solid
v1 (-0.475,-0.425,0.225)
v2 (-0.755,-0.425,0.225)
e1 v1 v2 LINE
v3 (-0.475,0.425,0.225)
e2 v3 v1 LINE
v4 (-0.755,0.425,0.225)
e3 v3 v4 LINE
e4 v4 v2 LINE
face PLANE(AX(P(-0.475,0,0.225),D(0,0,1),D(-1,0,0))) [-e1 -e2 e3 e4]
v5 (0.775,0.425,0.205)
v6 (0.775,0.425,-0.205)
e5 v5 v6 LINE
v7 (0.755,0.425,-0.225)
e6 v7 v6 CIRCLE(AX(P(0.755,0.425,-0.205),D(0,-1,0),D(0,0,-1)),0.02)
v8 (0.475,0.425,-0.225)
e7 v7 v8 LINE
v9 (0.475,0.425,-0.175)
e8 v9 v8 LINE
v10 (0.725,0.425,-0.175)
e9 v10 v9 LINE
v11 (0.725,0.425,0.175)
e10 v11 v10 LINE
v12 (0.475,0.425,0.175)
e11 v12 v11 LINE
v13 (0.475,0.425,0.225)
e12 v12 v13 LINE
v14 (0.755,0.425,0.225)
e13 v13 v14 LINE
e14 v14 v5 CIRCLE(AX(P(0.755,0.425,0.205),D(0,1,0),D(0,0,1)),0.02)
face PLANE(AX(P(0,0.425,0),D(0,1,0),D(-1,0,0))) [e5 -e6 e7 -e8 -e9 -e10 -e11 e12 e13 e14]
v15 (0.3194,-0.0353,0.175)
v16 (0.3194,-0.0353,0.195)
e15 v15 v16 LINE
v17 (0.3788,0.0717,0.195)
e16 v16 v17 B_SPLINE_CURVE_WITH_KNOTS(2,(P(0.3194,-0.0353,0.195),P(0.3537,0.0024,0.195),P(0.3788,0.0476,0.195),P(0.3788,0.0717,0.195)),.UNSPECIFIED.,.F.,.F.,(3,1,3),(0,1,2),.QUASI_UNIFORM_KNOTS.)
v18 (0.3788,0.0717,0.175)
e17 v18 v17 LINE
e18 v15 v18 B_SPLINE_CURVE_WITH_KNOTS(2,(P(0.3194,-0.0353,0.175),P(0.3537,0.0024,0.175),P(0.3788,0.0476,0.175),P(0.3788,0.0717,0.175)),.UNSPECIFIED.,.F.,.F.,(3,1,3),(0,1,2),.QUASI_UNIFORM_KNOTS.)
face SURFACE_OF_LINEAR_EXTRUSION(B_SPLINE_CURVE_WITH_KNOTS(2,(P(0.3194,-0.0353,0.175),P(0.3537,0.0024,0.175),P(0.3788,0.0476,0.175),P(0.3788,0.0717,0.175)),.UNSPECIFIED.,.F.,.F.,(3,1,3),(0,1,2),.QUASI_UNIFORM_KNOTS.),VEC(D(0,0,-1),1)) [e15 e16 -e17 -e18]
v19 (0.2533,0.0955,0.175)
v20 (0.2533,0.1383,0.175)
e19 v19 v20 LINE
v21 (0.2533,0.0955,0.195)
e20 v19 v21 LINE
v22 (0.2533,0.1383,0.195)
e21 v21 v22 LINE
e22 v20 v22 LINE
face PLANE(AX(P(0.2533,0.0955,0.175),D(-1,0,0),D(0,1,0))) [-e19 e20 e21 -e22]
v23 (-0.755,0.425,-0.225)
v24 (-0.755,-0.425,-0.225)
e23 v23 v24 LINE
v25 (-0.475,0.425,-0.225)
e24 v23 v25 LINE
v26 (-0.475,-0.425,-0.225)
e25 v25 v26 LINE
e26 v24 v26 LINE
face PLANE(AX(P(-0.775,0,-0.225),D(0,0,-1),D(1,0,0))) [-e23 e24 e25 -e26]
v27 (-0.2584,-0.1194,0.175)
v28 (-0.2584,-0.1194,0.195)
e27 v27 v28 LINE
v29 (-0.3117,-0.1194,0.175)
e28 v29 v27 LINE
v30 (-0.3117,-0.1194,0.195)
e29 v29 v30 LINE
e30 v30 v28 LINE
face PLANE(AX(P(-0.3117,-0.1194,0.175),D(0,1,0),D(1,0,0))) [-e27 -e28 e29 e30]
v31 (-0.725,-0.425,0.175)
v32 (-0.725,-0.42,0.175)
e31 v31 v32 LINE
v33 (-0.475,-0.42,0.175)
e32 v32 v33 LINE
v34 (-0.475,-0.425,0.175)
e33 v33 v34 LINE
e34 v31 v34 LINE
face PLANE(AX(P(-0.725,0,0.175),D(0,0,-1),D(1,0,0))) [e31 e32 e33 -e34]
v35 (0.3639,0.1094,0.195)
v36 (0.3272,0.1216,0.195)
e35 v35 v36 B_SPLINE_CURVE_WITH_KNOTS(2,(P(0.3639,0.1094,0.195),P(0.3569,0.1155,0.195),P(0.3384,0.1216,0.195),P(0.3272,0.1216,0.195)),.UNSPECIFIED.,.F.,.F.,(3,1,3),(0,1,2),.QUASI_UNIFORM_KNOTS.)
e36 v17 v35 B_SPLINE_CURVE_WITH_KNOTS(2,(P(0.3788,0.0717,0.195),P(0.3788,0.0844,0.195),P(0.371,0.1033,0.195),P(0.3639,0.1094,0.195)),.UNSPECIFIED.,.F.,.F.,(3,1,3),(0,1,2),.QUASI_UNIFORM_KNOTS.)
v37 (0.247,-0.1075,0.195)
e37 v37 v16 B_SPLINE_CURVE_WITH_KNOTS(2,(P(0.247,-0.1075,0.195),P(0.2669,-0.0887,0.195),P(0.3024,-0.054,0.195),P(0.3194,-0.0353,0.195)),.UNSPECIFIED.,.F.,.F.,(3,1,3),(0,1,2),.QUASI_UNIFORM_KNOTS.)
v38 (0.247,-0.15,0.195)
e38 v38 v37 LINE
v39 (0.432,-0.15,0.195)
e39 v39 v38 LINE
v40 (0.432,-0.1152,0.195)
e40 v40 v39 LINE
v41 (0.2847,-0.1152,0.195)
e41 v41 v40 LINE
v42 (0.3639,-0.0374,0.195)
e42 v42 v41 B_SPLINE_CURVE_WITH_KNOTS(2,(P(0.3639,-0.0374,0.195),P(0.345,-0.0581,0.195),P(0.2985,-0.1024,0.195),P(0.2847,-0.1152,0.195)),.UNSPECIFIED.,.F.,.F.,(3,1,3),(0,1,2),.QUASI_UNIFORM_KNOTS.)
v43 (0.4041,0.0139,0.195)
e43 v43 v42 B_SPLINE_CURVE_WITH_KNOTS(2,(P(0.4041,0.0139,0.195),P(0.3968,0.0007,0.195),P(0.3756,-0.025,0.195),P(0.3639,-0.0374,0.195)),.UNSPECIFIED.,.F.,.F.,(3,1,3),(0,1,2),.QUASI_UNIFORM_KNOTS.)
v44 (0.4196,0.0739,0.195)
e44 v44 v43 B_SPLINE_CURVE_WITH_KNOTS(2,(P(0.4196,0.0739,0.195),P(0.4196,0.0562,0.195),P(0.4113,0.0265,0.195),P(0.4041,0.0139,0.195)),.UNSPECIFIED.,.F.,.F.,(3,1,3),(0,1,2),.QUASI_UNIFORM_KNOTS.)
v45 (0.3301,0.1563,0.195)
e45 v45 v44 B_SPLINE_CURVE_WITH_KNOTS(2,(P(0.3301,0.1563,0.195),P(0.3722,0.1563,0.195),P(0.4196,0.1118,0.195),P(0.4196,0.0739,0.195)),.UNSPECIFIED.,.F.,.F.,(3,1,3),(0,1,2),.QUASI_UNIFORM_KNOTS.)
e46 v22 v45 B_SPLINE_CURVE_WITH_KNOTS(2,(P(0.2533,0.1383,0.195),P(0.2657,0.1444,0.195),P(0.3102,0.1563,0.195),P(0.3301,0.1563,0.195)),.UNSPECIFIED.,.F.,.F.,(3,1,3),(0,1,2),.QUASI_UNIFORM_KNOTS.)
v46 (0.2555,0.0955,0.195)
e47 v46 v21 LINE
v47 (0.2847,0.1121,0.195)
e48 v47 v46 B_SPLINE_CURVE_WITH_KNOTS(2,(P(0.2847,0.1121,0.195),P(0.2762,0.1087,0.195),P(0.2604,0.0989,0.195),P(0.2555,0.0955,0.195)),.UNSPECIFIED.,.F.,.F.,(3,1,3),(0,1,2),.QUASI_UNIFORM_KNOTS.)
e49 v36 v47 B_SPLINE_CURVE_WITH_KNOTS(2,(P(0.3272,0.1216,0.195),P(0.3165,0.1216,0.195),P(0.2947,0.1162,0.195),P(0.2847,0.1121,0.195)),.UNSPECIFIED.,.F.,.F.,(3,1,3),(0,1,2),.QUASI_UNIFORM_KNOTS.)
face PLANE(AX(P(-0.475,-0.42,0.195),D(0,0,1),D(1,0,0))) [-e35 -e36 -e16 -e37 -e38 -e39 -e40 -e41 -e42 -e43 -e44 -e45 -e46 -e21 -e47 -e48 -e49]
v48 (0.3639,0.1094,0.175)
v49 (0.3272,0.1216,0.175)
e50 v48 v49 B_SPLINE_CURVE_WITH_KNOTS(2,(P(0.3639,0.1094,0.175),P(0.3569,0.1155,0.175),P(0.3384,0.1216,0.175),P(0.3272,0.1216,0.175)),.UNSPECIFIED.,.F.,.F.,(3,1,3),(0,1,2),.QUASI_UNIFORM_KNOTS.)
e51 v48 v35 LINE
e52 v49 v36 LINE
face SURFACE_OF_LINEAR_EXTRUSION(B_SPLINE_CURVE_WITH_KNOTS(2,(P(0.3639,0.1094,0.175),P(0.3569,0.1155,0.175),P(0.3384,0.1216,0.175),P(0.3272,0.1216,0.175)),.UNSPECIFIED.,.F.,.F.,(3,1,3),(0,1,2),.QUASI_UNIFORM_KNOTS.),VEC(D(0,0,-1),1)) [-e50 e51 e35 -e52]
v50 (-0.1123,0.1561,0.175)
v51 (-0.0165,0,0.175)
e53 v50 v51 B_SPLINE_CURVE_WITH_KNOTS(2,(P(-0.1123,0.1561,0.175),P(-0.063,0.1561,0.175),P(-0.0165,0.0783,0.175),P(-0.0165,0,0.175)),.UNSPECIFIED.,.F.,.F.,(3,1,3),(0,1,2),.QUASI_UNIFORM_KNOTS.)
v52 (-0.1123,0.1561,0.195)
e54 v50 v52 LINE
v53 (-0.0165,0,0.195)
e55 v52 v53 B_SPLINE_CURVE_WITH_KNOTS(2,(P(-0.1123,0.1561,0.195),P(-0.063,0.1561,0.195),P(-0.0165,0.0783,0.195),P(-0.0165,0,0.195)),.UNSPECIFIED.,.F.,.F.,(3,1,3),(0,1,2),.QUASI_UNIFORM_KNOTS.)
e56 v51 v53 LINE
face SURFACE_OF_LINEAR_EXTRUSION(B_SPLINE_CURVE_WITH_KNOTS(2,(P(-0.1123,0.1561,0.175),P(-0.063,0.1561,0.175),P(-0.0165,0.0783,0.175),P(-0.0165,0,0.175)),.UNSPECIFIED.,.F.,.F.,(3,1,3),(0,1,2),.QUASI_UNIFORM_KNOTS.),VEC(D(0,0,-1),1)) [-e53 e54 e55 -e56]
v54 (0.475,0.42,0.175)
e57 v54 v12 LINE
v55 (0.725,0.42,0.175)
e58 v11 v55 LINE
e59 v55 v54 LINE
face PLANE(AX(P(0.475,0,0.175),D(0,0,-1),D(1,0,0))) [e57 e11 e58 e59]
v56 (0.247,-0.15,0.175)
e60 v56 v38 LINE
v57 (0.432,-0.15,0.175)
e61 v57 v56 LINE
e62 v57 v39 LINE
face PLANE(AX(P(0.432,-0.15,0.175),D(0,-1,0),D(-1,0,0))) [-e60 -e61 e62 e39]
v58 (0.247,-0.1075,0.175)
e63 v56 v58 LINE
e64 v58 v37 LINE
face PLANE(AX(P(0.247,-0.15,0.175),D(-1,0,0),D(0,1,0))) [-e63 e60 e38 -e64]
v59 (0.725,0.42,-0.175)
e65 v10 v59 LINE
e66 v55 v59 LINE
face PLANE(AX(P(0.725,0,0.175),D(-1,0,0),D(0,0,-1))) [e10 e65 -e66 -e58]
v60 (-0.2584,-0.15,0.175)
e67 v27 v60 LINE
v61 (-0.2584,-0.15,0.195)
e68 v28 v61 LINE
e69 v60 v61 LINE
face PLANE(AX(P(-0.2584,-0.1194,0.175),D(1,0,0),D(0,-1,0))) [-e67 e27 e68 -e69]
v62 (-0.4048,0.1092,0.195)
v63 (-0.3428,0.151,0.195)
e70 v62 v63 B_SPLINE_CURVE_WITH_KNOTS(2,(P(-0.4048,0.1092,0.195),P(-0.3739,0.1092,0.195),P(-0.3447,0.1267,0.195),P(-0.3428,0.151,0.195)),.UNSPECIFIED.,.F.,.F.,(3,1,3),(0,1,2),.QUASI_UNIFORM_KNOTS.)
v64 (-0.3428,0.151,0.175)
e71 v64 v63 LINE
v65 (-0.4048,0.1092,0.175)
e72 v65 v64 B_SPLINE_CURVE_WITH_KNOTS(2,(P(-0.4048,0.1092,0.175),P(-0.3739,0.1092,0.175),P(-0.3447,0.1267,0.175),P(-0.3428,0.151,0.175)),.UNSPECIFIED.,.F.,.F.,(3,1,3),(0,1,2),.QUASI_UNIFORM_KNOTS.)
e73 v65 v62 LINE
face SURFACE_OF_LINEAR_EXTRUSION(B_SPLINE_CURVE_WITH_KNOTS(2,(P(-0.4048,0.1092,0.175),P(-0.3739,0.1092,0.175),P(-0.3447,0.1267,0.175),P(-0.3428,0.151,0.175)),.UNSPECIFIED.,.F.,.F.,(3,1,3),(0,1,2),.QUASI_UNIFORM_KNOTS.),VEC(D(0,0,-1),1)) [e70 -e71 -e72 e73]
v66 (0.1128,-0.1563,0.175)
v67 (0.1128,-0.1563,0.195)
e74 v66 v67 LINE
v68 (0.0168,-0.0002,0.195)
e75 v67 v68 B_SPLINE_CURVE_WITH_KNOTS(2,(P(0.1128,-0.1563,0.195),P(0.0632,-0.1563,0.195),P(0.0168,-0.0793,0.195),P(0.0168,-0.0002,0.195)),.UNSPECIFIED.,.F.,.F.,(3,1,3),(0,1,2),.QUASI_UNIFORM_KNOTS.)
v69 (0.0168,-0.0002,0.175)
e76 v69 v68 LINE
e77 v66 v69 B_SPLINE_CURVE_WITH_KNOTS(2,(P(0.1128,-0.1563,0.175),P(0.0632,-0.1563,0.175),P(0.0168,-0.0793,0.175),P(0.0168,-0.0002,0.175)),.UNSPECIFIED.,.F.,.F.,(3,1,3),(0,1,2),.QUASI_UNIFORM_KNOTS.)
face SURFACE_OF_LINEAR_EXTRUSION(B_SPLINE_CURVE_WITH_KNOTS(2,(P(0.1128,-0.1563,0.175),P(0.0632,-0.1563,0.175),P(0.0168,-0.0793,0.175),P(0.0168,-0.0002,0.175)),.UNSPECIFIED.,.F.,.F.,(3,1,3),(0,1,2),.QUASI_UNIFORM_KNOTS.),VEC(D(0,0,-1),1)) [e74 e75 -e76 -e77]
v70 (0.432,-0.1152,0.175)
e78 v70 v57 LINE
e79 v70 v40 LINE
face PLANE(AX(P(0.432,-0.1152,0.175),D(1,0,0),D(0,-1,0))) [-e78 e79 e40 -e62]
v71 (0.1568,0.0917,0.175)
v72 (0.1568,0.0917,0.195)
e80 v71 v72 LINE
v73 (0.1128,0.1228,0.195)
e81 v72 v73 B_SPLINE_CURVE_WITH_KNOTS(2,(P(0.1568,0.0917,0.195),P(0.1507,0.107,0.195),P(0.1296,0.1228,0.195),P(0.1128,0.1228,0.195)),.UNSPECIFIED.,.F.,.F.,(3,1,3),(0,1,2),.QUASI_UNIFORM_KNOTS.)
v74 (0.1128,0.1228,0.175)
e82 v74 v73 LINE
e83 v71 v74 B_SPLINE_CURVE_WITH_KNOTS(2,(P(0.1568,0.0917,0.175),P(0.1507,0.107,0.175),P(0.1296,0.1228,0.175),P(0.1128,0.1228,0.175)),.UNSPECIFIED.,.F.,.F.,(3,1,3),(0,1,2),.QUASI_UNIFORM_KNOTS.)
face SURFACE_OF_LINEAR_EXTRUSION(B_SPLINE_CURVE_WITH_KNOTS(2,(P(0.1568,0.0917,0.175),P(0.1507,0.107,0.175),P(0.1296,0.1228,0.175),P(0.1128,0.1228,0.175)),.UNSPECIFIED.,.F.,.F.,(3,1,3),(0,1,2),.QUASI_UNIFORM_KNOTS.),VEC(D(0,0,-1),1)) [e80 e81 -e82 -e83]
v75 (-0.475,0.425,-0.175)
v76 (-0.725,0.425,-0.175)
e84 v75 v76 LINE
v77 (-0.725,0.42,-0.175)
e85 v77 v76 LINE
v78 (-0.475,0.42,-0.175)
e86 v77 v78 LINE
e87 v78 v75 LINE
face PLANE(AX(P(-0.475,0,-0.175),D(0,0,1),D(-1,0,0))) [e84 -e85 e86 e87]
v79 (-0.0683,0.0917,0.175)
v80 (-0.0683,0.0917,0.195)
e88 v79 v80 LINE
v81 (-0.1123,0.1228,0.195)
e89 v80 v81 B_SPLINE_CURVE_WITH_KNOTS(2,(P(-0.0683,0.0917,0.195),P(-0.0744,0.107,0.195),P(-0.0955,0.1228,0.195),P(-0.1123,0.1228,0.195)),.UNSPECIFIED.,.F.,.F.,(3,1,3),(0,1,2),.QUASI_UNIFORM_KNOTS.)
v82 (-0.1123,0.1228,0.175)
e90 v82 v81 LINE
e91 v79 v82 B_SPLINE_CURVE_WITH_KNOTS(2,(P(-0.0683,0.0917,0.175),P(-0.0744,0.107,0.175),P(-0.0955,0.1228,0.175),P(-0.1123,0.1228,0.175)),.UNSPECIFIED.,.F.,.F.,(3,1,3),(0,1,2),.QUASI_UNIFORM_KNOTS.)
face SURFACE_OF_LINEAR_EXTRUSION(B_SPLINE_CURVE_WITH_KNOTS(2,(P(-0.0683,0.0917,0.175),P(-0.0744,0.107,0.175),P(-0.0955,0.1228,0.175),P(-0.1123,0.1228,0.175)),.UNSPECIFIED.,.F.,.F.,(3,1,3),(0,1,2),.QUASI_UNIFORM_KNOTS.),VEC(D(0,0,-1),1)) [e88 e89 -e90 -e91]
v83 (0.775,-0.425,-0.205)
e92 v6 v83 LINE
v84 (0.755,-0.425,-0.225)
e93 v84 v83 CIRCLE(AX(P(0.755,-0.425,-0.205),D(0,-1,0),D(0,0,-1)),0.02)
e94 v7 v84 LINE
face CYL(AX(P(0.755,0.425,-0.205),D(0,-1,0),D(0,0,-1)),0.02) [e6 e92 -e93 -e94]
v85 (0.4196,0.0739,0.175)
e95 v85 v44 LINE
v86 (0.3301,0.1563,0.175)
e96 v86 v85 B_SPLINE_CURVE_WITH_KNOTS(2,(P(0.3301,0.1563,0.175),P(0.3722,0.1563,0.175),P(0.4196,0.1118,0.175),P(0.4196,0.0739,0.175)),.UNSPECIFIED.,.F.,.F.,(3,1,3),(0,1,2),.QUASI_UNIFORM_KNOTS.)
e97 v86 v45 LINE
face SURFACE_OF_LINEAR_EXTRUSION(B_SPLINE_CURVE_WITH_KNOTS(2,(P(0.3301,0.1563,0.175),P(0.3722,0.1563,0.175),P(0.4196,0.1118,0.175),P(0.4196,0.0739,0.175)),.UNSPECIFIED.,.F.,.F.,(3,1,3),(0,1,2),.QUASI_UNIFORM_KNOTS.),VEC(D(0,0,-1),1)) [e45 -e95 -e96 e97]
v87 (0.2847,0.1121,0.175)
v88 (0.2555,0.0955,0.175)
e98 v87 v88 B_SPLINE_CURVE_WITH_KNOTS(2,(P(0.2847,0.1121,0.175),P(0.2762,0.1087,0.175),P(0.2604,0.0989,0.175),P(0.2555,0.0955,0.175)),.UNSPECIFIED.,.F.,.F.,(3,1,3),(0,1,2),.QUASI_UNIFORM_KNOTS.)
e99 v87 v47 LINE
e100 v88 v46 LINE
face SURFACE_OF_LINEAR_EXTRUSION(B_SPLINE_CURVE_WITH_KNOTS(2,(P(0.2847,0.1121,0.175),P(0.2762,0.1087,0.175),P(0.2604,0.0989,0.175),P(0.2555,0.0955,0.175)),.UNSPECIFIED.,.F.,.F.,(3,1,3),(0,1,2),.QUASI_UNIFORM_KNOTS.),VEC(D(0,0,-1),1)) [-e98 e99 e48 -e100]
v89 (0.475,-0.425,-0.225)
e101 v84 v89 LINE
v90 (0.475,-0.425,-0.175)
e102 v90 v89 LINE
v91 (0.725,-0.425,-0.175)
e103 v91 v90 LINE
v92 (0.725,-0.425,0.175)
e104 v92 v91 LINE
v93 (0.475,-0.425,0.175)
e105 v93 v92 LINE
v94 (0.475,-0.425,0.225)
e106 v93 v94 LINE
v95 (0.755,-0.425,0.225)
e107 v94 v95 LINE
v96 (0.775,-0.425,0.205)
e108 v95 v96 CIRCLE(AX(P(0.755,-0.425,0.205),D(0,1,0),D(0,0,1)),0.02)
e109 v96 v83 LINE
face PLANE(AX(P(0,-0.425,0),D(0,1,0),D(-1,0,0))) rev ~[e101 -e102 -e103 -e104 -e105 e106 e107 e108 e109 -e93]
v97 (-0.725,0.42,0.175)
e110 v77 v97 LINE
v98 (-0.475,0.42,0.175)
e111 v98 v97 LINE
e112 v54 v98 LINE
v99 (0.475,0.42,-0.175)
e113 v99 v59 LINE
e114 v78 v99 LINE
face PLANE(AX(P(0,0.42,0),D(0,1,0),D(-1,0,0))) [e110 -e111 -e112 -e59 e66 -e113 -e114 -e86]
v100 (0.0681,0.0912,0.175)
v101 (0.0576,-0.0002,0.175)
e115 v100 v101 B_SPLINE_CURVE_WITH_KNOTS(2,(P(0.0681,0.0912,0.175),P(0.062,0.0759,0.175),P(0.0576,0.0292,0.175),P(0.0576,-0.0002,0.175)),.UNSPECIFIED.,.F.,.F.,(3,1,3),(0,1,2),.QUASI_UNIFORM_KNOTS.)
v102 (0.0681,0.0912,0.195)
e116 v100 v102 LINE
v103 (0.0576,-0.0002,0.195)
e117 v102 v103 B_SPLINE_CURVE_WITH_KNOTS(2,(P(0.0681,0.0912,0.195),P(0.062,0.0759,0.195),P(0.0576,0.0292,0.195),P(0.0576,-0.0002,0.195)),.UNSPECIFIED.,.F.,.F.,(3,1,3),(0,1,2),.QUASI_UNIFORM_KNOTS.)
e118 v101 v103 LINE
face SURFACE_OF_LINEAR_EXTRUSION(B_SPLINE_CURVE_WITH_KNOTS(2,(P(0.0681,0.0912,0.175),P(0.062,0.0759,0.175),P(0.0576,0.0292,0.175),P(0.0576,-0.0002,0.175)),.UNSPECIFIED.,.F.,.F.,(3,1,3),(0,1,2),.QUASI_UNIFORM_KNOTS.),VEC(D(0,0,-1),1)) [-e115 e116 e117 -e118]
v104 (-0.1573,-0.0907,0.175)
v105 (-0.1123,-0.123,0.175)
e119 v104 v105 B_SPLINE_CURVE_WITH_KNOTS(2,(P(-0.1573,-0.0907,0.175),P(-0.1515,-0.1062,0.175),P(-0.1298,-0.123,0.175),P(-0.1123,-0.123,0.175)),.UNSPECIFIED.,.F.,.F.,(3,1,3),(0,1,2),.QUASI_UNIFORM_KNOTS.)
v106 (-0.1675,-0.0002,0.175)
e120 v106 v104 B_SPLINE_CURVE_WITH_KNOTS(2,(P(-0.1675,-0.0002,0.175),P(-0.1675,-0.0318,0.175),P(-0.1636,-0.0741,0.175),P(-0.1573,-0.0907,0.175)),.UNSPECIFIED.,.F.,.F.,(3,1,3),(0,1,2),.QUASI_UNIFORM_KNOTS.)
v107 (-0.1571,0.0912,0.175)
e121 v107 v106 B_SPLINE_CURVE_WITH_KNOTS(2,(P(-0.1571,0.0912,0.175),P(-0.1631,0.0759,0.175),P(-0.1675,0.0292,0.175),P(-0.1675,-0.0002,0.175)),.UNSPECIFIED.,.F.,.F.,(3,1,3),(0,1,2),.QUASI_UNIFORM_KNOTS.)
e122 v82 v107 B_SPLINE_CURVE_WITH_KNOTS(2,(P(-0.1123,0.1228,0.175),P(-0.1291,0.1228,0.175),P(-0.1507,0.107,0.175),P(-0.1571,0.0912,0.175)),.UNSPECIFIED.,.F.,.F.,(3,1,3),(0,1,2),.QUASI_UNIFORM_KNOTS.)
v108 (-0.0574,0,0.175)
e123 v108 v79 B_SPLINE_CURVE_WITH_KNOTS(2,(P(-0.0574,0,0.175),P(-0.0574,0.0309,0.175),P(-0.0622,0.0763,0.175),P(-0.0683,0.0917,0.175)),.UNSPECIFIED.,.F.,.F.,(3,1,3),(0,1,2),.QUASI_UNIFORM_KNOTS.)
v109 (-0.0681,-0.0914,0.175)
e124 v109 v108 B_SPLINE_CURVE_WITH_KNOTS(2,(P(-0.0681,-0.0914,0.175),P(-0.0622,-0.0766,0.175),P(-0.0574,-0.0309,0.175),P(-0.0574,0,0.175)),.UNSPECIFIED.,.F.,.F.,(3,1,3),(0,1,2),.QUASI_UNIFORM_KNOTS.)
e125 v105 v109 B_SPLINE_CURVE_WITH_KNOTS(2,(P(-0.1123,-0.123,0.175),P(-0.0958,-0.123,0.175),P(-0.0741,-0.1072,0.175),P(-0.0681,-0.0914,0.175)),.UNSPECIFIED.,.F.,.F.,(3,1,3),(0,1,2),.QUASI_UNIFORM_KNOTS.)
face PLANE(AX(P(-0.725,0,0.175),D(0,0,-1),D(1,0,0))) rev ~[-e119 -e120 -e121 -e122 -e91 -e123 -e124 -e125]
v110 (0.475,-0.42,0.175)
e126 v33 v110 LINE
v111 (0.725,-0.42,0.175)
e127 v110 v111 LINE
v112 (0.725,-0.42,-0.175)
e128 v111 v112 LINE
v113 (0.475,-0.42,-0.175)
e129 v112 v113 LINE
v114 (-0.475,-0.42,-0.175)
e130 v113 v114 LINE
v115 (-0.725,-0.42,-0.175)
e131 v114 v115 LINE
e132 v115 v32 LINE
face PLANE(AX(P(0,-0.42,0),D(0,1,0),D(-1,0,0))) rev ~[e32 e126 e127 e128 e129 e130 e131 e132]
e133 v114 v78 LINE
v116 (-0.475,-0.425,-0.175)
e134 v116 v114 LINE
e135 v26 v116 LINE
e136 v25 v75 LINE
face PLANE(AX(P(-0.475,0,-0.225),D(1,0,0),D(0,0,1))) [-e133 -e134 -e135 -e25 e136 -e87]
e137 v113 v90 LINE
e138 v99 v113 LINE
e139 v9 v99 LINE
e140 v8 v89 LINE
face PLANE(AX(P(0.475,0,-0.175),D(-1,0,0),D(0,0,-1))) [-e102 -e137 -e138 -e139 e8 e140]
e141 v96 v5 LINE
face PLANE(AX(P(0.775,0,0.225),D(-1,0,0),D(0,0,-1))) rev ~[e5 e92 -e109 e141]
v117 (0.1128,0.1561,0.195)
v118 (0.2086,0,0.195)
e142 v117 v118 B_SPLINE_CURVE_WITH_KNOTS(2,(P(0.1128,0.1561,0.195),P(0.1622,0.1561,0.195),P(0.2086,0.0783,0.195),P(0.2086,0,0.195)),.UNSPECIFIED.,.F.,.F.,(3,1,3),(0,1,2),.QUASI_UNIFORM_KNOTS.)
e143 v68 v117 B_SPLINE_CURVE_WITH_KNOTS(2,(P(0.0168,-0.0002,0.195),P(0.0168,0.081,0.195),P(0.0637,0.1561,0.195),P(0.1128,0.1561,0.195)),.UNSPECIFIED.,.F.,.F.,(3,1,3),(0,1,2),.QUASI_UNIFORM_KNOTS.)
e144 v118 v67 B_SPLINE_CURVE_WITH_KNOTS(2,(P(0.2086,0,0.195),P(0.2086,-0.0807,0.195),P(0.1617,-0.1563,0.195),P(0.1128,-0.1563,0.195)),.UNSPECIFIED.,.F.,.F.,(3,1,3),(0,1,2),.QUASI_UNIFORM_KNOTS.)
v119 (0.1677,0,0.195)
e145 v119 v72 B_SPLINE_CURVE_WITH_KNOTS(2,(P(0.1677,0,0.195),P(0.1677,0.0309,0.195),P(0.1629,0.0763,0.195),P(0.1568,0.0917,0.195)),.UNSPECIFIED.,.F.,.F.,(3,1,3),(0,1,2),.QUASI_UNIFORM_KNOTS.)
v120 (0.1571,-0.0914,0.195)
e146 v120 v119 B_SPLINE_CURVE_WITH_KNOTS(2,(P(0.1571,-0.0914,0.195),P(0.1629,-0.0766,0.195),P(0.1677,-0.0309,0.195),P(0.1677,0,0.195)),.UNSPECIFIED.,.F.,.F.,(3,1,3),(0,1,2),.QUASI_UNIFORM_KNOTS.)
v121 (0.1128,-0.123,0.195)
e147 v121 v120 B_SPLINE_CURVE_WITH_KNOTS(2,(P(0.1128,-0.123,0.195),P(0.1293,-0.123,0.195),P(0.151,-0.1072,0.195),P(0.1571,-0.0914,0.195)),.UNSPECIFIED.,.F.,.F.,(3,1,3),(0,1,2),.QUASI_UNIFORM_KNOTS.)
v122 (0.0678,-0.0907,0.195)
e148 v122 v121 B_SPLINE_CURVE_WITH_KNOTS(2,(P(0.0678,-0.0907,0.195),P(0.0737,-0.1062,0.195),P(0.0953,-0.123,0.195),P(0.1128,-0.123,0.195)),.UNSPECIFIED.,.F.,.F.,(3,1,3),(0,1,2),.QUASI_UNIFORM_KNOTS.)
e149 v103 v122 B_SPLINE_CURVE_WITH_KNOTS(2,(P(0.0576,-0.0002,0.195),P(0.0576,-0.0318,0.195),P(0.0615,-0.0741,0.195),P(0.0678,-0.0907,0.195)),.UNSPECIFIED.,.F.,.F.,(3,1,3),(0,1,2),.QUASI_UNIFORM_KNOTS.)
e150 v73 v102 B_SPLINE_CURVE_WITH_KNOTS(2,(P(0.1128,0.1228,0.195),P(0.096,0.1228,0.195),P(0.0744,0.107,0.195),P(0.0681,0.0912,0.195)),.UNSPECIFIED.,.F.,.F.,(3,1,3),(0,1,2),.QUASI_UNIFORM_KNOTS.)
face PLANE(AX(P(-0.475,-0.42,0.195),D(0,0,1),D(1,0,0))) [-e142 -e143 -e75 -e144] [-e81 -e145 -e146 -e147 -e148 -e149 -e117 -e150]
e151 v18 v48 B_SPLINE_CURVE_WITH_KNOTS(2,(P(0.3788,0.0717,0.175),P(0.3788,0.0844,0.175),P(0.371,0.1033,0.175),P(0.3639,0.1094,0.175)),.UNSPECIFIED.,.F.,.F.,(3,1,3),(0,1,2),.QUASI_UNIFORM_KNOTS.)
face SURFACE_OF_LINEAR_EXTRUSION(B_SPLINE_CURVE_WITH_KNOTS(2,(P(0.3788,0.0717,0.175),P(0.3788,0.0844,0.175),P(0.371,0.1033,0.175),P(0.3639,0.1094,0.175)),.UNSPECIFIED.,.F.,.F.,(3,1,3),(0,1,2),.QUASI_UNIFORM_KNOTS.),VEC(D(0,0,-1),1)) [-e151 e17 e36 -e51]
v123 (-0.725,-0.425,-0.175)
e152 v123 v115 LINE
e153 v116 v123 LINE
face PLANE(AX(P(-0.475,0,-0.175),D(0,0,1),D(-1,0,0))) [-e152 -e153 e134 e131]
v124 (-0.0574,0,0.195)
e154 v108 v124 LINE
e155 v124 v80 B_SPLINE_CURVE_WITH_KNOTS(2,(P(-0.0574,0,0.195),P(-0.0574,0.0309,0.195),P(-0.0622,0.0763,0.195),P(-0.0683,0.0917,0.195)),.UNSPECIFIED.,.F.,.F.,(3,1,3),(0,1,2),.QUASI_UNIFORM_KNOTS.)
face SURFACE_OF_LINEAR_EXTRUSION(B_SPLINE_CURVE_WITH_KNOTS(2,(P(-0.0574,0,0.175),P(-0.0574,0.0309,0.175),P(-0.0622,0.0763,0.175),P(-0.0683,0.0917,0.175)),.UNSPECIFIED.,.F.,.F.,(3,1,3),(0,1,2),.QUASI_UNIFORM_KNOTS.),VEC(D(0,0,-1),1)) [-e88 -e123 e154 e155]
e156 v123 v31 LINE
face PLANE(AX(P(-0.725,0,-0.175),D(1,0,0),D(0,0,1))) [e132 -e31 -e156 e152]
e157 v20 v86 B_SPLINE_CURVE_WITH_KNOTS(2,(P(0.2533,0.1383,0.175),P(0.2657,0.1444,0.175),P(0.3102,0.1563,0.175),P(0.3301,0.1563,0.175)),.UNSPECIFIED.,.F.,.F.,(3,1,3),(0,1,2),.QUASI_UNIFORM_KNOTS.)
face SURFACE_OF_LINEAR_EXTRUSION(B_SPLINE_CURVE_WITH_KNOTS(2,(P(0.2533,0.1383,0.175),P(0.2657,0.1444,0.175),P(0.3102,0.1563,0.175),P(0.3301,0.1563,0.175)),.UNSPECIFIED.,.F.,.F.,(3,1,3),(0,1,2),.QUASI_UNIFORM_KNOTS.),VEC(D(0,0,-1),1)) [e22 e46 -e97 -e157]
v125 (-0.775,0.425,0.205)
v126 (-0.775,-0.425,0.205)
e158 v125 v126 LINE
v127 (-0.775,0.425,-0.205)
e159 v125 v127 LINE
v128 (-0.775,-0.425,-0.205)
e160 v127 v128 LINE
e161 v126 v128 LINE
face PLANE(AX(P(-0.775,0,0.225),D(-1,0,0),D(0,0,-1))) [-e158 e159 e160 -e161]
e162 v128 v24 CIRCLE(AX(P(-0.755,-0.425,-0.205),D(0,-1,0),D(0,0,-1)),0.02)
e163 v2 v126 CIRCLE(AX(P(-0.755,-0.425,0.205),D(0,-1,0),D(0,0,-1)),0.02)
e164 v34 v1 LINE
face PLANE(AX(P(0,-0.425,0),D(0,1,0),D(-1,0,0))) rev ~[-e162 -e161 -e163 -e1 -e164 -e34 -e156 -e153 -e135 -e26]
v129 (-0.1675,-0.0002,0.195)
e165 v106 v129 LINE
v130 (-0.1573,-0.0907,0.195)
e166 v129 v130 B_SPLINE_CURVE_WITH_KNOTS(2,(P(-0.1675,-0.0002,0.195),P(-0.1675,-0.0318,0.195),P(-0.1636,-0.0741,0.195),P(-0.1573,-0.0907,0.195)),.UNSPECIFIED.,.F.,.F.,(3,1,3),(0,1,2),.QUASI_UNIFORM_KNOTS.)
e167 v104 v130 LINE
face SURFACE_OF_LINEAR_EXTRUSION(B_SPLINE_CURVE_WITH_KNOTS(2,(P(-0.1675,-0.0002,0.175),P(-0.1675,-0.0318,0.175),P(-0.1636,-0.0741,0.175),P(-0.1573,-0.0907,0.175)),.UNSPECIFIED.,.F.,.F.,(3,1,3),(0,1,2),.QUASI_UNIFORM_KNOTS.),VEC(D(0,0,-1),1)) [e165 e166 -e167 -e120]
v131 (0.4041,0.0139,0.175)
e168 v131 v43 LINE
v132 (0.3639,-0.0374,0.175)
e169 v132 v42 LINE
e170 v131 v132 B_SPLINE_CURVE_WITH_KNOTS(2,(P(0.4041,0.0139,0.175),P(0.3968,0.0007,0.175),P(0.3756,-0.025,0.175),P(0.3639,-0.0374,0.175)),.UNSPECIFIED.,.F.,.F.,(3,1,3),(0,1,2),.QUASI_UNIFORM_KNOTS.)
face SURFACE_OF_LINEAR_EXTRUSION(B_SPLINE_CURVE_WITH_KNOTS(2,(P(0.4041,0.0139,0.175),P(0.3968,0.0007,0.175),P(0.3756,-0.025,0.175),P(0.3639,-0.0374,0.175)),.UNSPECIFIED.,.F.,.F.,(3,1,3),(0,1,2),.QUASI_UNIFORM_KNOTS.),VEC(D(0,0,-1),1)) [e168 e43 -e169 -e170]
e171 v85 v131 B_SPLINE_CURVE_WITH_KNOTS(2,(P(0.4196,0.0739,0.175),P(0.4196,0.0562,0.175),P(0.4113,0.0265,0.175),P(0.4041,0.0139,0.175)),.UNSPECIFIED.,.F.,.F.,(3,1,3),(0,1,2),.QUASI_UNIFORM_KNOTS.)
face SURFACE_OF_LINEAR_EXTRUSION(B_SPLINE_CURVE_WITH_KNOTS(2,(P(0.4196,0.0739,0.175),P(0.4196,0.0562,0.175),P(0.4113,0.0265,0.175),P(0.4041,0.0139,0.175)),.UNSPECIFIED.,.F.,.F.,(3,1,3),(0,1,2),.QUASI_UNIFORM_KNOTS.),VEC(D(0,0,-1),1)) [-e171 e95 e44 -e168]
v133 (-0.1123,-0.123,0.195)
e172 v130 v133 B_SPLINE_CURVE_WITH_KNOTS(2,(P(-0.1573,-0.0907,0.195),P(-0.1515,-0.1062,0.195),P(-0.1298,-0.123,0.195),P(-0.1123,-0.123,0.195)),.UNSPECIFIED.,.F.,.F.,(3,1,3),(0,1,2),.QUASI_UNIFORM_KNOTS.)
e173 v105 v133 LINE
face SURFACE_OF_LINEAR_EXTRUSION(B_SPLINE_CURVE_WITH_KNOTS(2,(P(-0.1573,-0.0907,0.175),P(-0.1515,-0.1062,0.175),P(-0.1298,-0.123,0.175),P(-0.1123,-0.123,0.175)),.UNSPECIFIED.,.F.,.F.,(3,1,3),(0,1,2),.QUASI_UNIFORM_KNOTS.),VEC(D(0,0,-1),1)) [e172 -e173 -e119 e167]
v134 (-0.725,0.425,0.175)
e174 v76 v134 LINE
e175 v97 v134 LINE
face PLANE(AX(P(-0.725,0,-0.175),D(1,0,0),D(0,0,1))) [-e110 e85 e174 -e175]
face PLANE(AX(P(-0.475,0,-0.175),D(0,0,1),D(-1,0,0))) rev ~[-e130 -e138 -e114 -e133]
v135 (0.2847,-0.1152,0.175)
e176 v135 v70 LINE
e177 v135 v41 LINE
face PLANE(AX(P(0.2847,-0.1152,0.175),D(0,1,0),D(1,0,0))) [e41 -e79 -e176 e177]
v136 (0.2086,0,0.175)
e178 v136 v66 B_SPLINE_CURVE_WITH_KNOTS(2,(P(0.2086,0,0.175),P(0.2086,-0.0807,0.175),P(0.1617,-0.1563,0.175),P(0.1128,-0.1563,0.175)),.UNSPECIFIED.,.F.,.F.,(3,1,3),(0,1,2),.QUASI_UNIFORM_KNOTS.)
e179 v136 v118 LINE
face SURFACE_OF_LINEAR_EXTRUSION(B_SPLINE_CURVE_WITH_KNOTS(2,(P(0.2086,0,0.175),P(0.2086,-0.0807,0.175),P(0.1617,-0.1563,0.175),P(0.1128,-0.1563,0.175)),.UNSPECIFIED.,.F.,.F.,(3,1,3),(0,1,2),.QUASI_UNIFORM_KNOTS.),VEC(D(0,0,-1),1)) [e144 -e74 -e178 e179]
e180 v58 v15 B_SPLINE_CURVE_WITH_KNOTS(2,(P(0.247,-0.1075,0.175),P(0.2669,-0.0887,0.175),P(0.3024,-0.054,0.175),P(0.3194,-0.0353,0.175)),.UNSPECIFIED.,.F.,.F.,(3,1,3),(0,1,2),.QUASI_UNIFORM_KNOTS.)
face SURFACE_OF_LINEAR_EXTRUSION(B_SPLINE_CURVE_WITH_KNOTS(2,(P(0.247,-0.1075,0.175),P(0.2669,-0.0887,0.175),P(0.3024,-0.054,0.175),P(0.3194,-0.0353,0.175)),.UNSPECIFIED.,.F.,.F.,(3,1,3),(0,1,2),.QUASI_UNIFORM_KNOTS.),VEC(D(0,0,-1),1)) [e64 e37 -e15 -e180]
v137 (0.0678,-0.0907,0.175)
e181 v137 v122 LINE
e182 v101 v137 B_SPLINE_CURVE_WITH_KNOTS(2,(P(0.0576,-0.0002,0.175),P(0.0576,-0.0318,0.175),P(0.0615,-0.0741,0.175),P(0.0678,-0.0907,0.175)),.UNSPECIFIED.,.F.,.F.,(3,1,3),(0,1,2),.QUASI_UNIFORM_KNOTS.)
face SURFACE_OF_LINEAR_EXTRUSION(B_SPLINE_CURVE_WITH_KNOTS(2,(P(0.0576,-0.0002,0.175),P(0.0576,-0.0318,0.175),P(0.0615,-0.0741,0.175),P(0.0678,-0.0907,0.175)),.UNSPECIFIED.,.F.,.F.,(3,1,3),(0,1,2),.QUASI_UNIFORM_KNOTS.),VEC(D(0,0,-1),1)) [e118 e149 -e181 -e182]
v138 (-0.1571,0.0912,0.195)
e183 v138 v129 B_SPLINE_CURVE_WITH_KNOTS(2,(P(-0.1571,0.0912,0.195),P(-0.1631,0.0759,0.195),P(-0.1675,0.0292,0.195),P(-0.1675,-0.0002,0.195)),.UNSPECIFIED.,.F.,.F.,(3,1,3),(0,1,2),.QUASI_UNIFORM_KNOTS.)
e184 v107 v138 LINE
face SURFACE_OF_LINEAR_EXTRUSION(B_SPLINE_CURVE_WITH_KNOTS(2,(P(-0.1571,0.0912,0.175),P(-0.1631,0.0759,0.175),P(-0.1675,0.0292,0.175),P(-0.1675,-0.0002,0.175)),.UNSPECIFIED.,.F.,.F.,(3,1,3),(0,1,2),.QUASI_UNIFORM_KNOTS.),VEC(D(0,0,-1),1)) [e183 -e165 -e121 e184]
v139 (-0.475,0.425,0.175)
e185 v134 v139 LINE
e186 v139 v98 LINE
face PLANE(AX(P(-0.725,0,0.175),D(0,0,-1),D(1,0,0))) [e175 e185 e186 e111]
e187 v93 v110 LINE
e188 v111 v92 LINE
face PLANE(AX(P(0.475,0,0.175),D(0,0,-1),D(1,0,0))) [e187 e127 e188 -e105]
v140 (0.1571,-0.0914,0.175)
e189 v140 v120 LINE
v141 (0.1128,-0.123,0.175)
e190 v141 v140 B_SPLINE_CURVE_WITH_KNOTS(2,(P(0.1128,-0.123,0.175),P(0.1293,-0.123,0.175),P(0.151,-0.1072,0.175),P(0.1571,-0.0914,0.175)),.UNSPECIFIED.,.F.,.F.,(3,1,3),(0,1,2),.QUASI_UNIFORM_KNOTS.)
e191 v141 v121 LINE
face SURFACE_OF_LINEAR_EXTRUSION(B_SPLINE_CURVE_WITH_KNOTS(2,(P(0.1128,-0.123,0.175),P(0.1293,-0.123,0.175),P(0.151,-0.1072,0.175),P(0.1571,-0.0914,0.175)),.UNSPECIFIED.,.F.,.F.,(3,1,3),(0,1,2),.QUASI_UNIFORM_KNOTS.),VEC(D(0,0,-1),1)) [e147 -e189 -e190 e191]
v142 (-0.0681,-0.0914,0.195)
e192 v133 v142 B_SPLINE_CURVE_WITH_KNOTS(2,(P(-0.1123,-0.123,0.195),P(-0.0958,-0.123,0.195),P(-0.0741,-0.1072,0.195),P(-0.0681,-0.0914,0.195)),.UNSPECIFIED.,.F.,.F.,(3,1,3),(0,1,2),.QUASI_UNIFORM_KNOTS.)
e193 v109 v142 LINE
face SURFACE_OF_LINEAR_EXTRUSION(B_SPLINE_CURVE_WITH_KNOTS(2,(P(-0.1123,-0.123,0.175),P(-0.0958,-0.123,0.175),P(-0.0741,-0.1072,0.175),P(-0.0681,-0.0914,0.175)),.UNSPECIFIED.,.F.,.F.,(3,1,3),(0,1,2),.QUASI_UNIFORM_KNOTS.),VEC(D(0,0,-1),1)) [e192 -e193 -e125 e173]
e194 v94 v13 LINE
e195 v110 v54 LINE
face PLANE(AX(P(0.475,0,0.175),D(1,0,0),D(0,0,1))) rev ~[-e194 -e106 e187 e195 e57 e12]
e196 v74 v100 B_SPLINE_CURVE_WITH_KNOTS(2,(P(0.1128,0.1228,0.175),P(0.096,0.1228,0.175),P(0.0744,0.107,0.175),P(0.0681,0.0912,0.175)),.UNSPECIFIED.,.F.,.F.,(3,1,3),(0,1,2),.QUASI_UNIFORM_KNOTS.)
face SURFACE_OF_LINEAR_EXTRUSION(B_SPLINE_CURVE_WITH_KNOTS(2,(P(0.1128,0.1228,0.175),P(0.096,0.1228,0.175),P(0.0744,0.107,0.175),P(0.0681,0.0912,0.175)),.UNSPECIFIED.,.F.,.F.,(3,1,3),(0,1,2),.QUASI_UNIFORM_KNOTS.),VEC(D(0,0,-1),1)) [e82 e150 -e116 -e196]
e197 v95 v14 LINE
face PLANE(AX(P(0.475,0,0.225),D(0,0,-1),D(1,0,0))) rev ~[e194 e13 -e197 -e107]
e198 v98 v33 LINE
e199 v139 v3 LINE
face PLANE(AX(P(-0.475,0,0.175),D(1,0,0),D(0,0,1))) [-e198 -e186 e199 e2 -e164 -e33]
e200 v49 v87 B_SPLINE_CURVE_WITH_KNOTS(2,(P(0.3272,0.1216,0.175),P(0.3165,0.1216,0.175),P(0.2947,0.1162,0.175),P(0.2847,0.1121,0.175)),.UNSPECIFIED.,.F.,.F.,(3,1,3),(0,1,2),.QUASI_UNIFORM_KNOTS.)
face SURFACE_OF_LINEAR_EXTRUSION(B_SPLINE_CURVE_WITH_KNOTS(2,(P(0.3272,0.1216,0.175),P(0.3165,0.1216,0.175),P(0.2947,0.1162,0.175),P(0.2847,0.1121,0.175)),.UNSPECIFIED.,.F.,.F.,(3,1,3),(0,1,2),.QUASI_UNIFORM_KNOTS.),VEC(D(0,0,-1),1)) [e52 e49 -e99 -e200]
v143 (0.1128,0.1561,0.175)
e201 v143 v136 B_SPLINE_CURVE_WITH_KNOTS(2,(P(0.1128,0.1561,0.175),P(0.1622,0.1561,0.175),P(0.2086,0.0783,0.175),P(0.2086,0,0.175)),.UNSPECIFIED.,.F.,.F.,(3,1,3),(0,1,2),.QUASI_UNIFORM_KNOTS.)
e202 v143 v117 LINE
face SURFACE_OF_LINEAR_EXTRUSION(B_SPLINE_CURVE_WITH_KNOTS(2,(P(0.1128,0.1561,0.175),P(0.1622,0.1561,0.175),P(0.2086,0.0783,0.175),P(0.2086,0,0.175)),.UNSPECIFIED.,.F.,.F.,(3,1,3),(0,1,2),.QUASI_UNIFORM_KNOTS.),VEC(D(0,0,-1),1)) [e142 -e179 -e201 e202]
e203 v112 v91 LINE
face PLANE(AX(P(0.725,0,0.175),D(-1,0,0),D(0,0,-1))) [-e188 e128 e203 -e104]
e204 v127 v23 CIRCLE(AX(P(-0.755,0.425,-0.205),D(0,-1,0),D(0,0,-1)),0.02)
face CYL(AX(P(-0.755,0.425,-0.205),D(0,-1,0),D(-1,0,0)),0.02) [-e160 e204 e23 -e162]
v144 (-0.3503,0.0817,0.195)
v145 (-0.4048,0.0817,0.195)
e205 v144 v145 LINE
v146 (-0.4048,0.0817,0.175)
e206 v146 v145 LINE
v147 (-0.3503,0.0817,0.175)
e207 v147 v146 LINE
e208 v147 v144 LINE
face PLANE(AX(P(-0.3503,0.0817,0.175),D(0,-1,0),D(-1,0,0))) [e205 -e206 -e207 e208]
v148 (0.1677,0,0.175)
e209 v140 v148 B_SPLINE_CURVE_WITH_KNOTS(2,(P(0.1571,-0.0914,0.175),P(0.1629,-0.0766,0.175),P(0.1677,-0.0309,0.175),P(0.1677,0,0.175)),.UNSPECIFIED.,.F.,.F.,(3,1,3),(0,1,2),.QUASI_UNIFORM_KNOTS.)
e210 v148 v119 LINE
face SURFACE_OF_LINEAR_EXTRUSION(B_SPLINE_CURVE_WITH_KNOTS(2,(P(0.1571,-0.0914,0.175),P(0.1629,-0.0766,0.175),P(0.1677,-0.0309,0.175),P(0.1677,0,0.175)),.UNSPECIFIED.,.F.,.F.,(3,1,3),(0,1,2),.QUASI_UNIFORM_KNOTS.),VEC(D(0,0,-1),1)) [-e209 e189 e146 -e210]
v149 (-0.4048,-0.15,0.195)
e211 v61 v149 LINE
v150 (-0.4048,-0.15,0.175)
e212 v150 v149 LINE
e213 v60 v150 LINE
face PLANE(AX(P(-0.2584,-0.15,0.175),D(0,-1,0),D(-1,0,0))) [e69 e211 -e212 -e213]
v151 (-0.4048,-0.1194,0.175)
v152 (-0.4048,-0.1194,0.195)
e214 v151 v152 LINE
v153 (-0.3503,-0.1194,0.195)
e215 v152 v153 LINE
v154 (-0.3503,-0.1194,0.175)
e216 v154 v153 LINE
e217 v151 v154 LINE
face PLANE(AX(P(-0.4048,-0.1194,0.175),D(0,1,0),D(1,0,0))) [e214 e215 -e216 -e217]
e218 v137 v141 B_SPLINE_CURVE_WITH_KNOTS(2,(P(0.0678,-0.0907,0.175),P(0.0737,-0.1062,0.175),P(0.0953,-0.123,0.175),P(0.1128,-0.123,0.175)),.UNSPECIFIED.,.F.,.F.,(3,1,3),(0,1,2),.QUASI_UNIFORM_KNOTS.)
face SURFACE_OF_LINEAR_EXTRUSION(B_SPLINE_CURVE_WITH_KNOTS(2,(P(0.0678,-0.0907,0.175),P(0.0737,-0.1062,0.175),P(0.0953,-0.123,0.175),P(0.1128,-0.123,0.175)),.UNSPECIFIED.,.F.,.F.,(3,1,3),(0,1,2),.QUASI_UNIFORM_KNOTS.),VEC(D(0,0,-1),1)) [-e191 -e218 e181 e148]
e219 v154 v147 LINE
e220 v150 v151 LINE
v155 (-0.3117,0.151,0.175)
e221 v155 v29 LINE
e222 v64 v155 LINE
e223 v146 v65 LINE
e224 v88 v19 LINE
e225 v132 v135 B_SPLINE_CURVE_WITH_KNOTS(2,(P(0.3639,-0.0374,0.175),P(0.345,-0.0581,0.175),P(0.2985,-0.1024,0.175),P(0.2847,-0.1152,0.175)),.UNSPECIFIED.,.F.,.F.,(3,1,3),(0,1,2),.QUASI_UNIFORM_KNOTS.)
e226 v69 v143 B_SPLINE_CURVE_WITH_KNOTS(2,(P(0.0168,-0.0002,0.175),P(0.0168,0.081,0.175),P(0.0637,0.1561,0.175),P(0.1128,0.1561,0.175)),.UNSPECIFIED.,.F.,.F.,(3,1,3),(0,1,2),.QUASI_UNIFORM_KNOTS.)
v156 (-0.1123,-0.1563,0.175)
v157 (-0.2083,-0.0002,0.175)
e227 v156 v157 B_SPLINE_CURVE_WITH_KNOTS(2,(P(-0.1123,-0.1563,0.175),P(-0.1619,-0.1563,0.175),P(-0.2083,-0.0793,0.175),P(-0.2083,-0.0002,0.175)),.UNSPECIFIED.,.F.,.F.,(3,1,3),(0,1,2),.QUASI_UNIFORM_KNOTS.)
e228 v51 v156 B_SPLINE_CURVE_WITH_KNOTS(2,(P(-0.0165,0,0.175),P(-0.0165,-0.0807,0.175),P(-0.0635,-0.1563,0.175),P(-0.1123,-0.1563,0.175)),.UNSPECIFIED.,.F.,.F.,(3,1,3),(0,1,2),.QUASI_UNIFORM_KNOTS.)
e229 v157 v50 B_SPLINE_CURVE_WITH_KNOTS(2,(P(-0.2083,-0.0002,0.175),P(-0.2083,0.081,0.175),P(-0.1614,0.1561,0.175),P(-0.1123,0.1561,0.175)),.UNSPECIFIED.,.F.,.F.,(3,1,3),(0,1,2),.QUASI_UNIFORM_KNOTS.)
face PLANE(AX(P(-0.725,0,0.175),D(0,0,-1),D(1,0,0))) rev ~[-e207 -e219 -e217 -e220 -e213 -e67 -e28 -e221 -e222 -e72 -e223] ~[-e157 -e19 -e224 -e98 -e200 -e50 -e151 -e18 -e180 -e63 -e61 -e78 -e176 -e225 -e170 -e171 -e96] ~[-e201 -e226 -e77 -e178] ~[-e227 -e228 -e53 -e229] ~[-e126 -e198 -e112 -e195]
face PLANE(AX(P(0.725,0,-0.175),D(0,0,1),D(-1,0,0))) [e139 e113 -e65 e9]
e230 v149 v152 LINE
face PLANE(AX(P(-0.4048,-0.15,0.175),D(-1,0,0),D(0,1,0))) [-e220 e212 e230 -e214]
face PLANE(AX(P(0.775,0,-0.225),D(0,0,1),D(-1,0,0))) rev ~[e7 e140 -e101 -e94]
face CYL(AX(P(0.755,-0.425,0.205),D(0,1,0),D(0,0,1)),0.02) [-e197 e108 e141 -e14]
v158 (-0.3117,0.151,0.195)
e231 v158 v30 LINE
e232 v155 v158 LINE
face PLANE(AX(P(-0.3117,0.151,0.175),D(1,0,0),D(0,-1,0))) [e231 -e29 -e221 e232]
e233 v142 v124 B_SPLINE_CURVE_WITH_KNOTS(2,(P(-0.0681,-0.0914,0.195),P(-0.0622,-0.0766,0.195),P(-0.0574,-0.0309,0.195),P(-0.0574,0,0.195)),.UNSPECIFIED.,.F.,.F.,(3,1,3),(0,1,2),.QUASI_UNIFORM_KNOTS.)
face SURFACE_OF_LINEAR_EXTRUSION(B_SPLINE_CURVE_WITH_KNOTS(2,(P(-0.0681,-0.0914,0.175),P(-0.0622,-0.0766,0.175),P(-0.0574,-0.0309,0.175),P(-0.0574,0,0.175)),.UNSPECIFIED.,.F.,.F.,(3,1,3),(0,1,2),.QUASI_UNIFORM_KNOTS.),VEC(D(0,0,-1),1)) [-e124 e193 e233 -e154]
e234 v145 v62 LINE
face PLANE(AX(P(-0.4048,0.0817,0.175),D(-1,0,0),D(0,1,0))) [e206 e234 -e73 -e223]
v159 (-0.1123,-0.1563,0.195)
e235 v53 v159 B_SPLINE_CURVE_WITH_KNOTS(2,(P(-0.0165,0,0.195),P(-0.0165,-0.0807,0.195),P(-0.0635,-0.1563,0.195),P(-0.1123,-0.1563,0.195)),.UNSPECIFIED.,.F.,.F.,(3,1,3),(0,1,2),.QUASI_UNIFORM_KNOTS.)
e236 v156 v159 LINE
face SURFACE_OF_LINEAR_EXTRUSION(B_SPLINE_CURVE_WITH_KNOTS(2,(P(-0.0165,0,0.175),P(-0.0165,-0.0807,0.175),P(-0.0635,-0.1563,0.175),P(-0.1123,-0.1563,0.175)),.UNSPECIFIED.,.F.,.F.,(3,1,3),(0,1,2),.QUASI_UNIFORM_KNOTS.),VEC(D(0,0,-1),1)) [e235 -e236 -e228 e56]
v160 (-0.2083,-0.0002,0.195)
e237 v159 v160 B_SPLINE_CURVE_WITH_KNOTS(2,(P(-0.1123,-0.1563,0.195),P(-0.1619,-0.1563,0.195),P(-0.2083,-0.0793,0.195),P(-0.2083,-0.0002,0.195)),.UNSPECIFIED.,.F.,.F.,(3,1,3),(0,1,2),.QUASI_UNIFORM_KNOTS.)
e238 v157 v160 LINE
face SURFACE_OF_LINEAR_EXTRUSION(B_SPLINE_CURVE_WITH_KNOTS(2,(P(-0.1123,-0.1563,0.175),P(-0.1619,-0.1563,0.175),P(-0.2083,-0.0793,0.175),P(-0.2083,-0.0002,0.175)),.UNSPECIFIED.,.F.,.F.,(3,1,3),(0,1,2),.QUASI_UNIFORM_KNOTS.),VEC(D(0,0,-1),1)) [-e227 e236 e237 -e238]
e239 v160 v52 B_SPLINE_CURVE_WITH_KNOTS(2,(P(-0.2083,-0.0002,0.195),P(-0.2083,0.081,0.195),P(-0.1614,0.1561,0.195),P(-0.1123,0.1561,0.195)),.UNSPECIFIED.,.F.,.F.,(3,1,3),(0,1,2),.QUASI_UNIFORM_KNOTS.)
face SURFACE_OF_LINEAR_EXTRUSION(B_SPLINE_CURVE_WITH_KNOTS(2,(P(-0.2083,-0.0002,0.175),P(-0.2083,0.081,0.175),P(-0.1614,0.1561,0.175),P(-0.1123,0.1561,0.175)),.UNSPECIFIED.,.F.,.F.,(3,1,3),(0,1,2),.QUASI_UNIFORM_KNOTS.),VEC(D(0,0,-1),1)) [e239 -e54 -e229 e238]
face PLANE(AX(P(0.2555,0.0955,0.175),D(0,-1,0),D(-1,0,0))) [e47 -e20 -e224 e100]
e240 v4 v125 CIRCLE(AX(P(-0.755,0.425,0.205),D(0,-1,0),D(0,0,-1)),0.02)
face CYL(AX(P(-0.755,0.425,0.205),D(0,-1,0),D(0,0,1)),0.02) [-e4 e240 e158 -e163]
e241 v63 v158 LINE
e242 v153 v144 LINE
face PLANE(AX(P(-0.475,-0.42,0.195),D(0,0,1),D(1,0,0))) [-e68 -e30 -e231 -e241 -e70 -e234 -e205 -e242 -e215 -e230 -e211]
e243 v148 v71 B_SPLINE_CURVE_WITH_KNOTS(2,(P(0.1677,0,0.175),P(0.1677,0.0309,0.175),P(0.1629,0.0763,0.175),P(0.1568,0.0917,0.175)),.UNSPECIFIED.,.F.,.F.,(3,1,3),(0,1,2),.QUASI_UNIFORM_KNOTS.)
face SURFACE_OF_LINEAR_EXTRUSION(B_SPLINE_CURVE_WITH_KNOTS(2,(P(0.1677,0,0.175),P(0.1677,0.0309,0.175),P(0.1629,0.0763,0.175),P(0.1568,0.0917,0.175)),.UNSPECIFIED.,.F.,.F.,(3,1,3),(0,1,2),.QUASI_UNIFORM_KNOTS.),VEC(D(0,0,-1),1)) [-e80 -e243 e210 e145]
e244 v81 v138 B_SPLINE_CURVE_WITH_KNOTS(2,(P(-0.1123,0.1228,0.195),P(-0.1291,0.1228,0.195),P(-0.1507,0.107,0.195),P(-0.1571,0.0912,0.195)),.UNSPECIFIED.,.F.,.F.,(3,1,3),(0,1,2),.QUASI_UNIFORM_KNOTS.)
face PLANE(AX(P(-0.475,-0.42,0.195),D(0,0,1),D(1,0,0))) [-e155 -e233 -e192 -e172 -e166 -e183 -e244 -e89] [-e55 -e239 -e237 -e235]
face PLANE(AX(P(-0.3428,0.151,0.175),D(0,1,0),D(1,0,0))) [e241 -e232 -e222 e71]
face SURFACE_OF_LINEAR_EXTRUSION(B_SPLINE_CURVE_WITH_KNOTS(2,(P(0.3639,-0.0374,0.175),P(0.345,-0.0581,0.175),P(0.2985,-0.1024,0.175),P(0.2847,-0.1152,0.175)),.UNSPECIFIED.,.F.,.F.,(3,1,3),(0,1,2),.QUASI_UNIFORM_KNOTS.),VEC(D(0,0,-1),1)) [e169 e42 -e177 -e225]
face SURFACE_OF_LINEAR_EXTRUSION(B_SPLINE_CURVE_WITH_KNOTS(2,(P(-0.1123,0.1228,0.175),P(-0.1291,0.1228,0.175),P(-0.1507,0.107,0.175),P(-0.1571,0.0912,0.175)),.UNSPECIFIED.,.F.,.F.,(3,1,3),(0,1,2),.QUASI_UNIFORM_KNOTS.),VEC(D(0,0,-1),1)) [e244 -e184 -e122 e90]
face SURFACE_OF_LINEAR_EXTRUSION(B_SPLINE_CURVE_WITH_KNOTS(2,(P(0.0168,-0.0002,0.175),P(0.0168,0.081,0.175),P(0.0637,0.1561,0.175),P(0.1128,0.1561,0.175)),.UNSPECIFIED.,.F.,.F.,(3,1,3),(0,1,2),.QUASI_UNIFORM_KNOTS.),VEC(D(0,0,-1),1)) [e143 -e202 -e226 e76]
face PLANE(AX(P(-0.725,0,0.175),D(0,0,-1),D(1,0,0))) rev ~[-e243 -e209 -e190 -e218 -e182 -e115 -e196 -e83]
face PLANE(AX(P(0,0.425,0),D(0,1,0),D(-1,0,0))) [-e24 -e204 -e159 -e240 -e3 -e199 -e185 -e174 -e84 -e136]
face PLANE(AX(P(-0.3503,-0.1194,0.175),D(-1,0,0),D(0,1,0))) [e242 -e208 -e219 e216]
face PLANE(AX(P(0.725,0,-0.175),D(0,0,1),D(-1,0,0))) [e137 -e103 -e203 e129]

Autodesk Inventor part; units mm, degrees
ref_plane "YZ Plane" through (0, 0, 0) normal (1, 0, 0) x (0, 1, 0)
ref_plane "XZ Plane" through (0, 0, 0) normal (0, 1, 0) x (-1, 0, 0)
ref_plane "XY Plane" through (0, 0, 0) normal (0, 0, 1) x (1, 0, 0)
sketch "Sketch1" plane through (0, 0, 0) normal (0, 1, 0) x (-1, 0, 0)
  line L0 (0.725, 0.175) -> (-0.725, 0.175)
  line L1 (-0.725, 0.175) -> (-0.725, -0.175)
  line L2 (-0.725, -0.175) -> (0.725, -0.175)
  line L3 (0.725, -0.175) -> (0.725, 0.175)
  line L4 (0.475, 0.175) -> (0.475, 0.225)
  line L5 (0.475, 0.225) -> (0.775, 0.225)
  line L6 (0.775, 0.225) -> (0.775, -0.225)
  line L7 (0.775, -0.225) -> (0.475, -0.225)
  line L8 (0.475, -0.225) -> (0.475, -0.175)
  line L9 (-0.475, 0.175) -> (-0.475, 0.225)
  line L10 (-0.475, 0.225) -> (-0.775, 0.225)
  line L11 (-0.775, 0.225) -> (-0.775, -0.225)
  line L12 (-0.775, -0.225) -> (-0.475, -0.225)
  line L13 (-0.475, -0.175) -> (-0.475, -0.225)
  line L14 (0.475, 0.175) -> (-0.475, 0.175)
  point P0 (0, 0)
  point P1 (0, 0.175)
  point P2 (0.725, 0)
  dimension "d0" = 1.55
  dimension "d1" = 0.05
  dimension "d2" = 0.05
  dimension "d3" = 0.45
  dimension "d4" = 0.3
extrude "Extrusion1" add sketch "Sketch1" along normal mid plane 0.85 contours L0 L4 L5 L6 L7 L8 L2 L3 | L0 L1 L2 L13 L12 L11 L10 L9
extrude "Extrusion2" add sketch "Sketch1" along normal mid plane 0.84 contours L3 L2 L1 L0
sketch "Sketch2" plane through (-0.475, -0.42, 0.175) normal (0, 0, 1) x (1, 0, 0)
  line L0 (0, 0) -> (0, 0.84) projected
  line L1 (0.95, 0) -> (0, 0) projected
  line L2 (0.95, 0) -> (0.95, 0.84) projected
  line L3 (0, 0.84) -> (0.95, 0.84) projected
  line L4 (0, 0.42) -> (0.95, 0.42) construction
  line L5 (0.2166, 0.27) -> (0.0702, 0.27)
  line L6 (0.0702, 0.27) -> (0.0702, 0.3006)
  line L7 (0.0702, 0.3006) -> (0.1247, 0.3006)
  line L8 (0.1247, 0.3006) -> (0.1247, 0.5017)
  line L9 (0.1247, 0.5017) -> (0.0702, 0.5017)
  line L10 (0.0702, 0.5017) -> (0.0702, 0.5292)
  spline S0 degree 2 poles (0.0702, 0.5292) (0.1011, 0.5292) (0.1303, 0.5467) (0.1322, 0.571) knots 0 0 0 1 2 2 2
  line L11 (0.1322, 0.571) -> (0.1633, 0.571)
  line L12 (0.1633, 0.571) -> (0.1633, 0.3006)
  line L13 (0.1633, 0.3006) -> (0.2166, 0.3006)
  line L14 (0.2166, 0.3006) -> (0.2166, 0.27)
  spline S1 degree 2 poles (0.4585, 0.42) (0.4585, 0.3393) (0.4115, 0.2637) (0.3627, 0.2637) knots 0 0 0 1 2 2 2
  spline S2 degree 2 poles (0.3627, 0.2637) (0.3131, 0.2637) (0.2667, 0.3407) (0.2667, 0.4198) knots 0 0 0 1 2 2 2
  spline S3 degree 2 poles (0.2667, 0.4198) (0.2667, 0.501) (0.3136, 0.5761) (0.3627, 0.5761) knots 0 0 0 1 2 2 2
  spline S4 degree 2 poles (0.3627, 0.5761) (0.412, 0.5761) (0.4585, 0.4983) (0.4585, 0.42) knots 0 0 0 1 2 2 2
  spline S5 degree 2 poles (0.4069, 0.3286) (0.4128, 0.3434) (0.4176, 0.3891) (0.4176, 0.42) knots 0 0 0 1 2 2 2
  spline S6 degree 2 poles (0.4176, 0.42) (0.4176, 0.4509) (0.4128, 0.4963) (0.4067, 0.5117) knots 0 0 0 1 2 2 2
  spline S7 degree 2 poles (0.4067, 0.5117) (0.4006, 0.527) (0.3795, 0.5428) (0.3627, 0.5428) knots 0 0 0 1 2 2 2
  spline S8 degree 2 poles (0.3627, 0.5428) (0.3459, 0.5428) (0.3243, 0.527) (0.3179, 0.5112) knots 0 0 0 1 2 2 2
  spline S9 degree 2 poles (0.3179, 0.5112) (0.3119, 0.4959) (0.3075, 0.4492) (0.3075, 0.4198) knots 0 0 0 1 2 2 2
  spline S10 degree 2 poles (0.3075, 0.4198) (0.3075, 0.3882) (0.3114, 0.3459) (0.3177, 0.3293) knots 0 0 0 1 2 2 2
  spline S11 degree 2 poles (0.3177, 0.3293) (0.3235, 0.3138) (0.3452, 0.297) (0.3627, 0.297) knots 0 0 0 1 2 2 2
  spline S12 degree 2 poles (0.3627, 0.297) (0.3792, 0.297) (0.4009, 0.3128) (0.4069, 0.3286) knots 0 0 0 1 2 2 2
  spline S13 degree 2 poles (0.6836, 0.42) (0.6836, 0.3393) (0.6367, 0.2637) (0.5878, 0.2637) knots 0 0 0 1 2 2 2
  spline S14 degree 2 poles (0.5878, 0.2637) (0.5382, 0.2637) (0.4918, 0.3407) (0.4918, 0.4198) knots 0 0 0 1 2 2 2
  spline S15 degree 2 poles (0.4918, 0.4198) (0.4918, 0.501) (0.5387, 0.5761) (0.5878, 0.5761) knots 0 0 0 1 2 2 2
  spline S16 degree 2 poles (0.5878, 0.5761) (0.6372, 0.5761) (0.6836, 0.4983) (0.6836, 0.42) knots 0 0 0 1 2 2 2
  spline S17 degree 2 poles (0.6321, 0.3286) (0.6379, 0.3434) (0.6427, 0.3891) (0.6427, 0.42) knots 0 0 0 1 2 2 2
  spline S18 degree 2 poles (0.6427, 0.42) (0.6427, 0.4509) (0.6379, 0.4963) (0.6318, 0.5117) knots 0 0 0 1 2 2 2
  spline S19 degree 2 poles (0.6318, 0.5117) (0.6257, 0.527) (0.6046, 0.5428) (0.5878, 0.5428) knots 0 0 0 1 2 2 2
  spline S20 degree 2 poles (0.5878, 0.5428) (0.571, 0.5428) (0.5494, 0.527) (0.5431, 0.5112) knots 0 0 0 1 2 2 2
  spline S21 degree 2 poles (0.5431, 0.5112) (0.537, 0.4959) (0.5326, 0.4492) (0.5326, 0.4198) knots 0 0 0 1 2 2 2
  spline S22 degree 2 poles (0.5326, 0.4198) (0.5326, 0.3882) (0.5365, 0.3459) (0.5428, 0.3293) knots 0 0 0 1 2 2 2
  spline S23 degree 2 poles (0.5428, 0.3293) (0.5487, 0.3138) (0.5703, 0.297) (0.5878, 0.297) knots 0 0 0 1 2 2 2
  spline S24 degree 2 poles (0.5878, 0.297) (0.6043, 0.297) (0.626, 0.3128) (0.6321, 0.3286) knots 0 0 0 1 2 2 2
  line L15 (0.907, 0.27) -> (0.722, 0.27)
  line L16 (0.722, 0.27) -> (0.722, 0.3125)
  spline S25 degree 2 poles (0.722, 0.3125) (0.7419, 0.3313) (0.7774, 0.366) (0.7944, 0.3847) knots 0 0 0 1 2 2 2
  spline S26 degree 2 poles (0.7944, 0.3847) (0.8287, 0.4224) (0.8538, 0.4676) (0.8538, 0.4917) knots 0 0 0 1 2 2 2
  spline S27 degree 2 poles (0.8538, 0.4917) (0.8538, 0.5044) (0.846, 0.5233) (0.8389, 0.5294) knots 0 0 0 1 2 2 2
  spline S28 degree 2 poles (0.8389, 0.5294) (0.8319, 0.5355) (0.8134, 0.5416) (0.8022, 0.5416) knots 0 0 0 1 2 2 2
  spline S29 degree 2 poles (0.8022, 0.5416) (0.7915, 0.5416) (0.7697, 0.5362) (0.7597, 0.5321) knots 0 0 0 1 2 2 2
  spline S30 degree 2 poles (0.7597, 0.5321) (0.7512, 0.5287) (0.7354, 0.5189) (0.7305, 0.5155) knots 0 0 0 1 2 2 2
  line L17 (0.7305, 0.5155) -> (0.7283, 0.5155)
  line L18 (0.7283, 0.5155) -> (0.7283, 0.5583)
  spline S31 degree 2 poles (0.7283, 0.5583) (0.7407, 0.5644) (0.7852, 0.5763) (0.8051, 0.5763) knots 0 0 0 1 2 2 2
  spline S32 degree 2 poles (0.8051, 0.5763) (0.8472, 0.5763) (0.8946, 0.5318) (0.8946, 0.4939) knots 0 0 0 1 2 2 2
  spline S33 degree 2 poles (0.8946, 0.4939) (0.8946, 0.4762) (0.8863, 0.4465) (0.8791, 0.4339) knots 0 0 0 1 2 2 2
  spline S34 degree 2 poles (0.8791, 0.4339) (0.8718, 0.4207) (0.8506, 0.395) (0.8389, 0.3826) knots 0 0 0 1 2 2 2
  spline S35 degree 2 poles (0.8389, 0.3826) (0.82, 0.3619) (0.7735, 0.3176) (0.7597, 0.3048) knots 0 0 0 1 2 2 2
  line L19 (0.7597, 0.3048) -> (0.907, 0.3048)
  line L20 (0.907, 0.3048) -> (0.907, 0.27)
  point P0 (0.475, 0.42)
extrude "Extrusion3" add sketch "Sketch2" along normal blind 0.02 contours L5 L6 L7 L8 L9 L10 S0 L11 L12 L13 L14 | S1 S2 S3 S4 | S13 S14 S15 S16 | L15 L16 S25 S26 S27 S28 S29 S30 L17 L18 S31 S32 S33 S34 S35 L19 L20
fillet "Fillet1" radius 0.02 4 edges at (-0.775, 0, 0.225) (-0.775, 0, -0.225) (0.775, 0, 0.225) (0.775, 0, -0.225)
equation "\"d2\" = d1"
properties part number "21-1001" material "Copper"
